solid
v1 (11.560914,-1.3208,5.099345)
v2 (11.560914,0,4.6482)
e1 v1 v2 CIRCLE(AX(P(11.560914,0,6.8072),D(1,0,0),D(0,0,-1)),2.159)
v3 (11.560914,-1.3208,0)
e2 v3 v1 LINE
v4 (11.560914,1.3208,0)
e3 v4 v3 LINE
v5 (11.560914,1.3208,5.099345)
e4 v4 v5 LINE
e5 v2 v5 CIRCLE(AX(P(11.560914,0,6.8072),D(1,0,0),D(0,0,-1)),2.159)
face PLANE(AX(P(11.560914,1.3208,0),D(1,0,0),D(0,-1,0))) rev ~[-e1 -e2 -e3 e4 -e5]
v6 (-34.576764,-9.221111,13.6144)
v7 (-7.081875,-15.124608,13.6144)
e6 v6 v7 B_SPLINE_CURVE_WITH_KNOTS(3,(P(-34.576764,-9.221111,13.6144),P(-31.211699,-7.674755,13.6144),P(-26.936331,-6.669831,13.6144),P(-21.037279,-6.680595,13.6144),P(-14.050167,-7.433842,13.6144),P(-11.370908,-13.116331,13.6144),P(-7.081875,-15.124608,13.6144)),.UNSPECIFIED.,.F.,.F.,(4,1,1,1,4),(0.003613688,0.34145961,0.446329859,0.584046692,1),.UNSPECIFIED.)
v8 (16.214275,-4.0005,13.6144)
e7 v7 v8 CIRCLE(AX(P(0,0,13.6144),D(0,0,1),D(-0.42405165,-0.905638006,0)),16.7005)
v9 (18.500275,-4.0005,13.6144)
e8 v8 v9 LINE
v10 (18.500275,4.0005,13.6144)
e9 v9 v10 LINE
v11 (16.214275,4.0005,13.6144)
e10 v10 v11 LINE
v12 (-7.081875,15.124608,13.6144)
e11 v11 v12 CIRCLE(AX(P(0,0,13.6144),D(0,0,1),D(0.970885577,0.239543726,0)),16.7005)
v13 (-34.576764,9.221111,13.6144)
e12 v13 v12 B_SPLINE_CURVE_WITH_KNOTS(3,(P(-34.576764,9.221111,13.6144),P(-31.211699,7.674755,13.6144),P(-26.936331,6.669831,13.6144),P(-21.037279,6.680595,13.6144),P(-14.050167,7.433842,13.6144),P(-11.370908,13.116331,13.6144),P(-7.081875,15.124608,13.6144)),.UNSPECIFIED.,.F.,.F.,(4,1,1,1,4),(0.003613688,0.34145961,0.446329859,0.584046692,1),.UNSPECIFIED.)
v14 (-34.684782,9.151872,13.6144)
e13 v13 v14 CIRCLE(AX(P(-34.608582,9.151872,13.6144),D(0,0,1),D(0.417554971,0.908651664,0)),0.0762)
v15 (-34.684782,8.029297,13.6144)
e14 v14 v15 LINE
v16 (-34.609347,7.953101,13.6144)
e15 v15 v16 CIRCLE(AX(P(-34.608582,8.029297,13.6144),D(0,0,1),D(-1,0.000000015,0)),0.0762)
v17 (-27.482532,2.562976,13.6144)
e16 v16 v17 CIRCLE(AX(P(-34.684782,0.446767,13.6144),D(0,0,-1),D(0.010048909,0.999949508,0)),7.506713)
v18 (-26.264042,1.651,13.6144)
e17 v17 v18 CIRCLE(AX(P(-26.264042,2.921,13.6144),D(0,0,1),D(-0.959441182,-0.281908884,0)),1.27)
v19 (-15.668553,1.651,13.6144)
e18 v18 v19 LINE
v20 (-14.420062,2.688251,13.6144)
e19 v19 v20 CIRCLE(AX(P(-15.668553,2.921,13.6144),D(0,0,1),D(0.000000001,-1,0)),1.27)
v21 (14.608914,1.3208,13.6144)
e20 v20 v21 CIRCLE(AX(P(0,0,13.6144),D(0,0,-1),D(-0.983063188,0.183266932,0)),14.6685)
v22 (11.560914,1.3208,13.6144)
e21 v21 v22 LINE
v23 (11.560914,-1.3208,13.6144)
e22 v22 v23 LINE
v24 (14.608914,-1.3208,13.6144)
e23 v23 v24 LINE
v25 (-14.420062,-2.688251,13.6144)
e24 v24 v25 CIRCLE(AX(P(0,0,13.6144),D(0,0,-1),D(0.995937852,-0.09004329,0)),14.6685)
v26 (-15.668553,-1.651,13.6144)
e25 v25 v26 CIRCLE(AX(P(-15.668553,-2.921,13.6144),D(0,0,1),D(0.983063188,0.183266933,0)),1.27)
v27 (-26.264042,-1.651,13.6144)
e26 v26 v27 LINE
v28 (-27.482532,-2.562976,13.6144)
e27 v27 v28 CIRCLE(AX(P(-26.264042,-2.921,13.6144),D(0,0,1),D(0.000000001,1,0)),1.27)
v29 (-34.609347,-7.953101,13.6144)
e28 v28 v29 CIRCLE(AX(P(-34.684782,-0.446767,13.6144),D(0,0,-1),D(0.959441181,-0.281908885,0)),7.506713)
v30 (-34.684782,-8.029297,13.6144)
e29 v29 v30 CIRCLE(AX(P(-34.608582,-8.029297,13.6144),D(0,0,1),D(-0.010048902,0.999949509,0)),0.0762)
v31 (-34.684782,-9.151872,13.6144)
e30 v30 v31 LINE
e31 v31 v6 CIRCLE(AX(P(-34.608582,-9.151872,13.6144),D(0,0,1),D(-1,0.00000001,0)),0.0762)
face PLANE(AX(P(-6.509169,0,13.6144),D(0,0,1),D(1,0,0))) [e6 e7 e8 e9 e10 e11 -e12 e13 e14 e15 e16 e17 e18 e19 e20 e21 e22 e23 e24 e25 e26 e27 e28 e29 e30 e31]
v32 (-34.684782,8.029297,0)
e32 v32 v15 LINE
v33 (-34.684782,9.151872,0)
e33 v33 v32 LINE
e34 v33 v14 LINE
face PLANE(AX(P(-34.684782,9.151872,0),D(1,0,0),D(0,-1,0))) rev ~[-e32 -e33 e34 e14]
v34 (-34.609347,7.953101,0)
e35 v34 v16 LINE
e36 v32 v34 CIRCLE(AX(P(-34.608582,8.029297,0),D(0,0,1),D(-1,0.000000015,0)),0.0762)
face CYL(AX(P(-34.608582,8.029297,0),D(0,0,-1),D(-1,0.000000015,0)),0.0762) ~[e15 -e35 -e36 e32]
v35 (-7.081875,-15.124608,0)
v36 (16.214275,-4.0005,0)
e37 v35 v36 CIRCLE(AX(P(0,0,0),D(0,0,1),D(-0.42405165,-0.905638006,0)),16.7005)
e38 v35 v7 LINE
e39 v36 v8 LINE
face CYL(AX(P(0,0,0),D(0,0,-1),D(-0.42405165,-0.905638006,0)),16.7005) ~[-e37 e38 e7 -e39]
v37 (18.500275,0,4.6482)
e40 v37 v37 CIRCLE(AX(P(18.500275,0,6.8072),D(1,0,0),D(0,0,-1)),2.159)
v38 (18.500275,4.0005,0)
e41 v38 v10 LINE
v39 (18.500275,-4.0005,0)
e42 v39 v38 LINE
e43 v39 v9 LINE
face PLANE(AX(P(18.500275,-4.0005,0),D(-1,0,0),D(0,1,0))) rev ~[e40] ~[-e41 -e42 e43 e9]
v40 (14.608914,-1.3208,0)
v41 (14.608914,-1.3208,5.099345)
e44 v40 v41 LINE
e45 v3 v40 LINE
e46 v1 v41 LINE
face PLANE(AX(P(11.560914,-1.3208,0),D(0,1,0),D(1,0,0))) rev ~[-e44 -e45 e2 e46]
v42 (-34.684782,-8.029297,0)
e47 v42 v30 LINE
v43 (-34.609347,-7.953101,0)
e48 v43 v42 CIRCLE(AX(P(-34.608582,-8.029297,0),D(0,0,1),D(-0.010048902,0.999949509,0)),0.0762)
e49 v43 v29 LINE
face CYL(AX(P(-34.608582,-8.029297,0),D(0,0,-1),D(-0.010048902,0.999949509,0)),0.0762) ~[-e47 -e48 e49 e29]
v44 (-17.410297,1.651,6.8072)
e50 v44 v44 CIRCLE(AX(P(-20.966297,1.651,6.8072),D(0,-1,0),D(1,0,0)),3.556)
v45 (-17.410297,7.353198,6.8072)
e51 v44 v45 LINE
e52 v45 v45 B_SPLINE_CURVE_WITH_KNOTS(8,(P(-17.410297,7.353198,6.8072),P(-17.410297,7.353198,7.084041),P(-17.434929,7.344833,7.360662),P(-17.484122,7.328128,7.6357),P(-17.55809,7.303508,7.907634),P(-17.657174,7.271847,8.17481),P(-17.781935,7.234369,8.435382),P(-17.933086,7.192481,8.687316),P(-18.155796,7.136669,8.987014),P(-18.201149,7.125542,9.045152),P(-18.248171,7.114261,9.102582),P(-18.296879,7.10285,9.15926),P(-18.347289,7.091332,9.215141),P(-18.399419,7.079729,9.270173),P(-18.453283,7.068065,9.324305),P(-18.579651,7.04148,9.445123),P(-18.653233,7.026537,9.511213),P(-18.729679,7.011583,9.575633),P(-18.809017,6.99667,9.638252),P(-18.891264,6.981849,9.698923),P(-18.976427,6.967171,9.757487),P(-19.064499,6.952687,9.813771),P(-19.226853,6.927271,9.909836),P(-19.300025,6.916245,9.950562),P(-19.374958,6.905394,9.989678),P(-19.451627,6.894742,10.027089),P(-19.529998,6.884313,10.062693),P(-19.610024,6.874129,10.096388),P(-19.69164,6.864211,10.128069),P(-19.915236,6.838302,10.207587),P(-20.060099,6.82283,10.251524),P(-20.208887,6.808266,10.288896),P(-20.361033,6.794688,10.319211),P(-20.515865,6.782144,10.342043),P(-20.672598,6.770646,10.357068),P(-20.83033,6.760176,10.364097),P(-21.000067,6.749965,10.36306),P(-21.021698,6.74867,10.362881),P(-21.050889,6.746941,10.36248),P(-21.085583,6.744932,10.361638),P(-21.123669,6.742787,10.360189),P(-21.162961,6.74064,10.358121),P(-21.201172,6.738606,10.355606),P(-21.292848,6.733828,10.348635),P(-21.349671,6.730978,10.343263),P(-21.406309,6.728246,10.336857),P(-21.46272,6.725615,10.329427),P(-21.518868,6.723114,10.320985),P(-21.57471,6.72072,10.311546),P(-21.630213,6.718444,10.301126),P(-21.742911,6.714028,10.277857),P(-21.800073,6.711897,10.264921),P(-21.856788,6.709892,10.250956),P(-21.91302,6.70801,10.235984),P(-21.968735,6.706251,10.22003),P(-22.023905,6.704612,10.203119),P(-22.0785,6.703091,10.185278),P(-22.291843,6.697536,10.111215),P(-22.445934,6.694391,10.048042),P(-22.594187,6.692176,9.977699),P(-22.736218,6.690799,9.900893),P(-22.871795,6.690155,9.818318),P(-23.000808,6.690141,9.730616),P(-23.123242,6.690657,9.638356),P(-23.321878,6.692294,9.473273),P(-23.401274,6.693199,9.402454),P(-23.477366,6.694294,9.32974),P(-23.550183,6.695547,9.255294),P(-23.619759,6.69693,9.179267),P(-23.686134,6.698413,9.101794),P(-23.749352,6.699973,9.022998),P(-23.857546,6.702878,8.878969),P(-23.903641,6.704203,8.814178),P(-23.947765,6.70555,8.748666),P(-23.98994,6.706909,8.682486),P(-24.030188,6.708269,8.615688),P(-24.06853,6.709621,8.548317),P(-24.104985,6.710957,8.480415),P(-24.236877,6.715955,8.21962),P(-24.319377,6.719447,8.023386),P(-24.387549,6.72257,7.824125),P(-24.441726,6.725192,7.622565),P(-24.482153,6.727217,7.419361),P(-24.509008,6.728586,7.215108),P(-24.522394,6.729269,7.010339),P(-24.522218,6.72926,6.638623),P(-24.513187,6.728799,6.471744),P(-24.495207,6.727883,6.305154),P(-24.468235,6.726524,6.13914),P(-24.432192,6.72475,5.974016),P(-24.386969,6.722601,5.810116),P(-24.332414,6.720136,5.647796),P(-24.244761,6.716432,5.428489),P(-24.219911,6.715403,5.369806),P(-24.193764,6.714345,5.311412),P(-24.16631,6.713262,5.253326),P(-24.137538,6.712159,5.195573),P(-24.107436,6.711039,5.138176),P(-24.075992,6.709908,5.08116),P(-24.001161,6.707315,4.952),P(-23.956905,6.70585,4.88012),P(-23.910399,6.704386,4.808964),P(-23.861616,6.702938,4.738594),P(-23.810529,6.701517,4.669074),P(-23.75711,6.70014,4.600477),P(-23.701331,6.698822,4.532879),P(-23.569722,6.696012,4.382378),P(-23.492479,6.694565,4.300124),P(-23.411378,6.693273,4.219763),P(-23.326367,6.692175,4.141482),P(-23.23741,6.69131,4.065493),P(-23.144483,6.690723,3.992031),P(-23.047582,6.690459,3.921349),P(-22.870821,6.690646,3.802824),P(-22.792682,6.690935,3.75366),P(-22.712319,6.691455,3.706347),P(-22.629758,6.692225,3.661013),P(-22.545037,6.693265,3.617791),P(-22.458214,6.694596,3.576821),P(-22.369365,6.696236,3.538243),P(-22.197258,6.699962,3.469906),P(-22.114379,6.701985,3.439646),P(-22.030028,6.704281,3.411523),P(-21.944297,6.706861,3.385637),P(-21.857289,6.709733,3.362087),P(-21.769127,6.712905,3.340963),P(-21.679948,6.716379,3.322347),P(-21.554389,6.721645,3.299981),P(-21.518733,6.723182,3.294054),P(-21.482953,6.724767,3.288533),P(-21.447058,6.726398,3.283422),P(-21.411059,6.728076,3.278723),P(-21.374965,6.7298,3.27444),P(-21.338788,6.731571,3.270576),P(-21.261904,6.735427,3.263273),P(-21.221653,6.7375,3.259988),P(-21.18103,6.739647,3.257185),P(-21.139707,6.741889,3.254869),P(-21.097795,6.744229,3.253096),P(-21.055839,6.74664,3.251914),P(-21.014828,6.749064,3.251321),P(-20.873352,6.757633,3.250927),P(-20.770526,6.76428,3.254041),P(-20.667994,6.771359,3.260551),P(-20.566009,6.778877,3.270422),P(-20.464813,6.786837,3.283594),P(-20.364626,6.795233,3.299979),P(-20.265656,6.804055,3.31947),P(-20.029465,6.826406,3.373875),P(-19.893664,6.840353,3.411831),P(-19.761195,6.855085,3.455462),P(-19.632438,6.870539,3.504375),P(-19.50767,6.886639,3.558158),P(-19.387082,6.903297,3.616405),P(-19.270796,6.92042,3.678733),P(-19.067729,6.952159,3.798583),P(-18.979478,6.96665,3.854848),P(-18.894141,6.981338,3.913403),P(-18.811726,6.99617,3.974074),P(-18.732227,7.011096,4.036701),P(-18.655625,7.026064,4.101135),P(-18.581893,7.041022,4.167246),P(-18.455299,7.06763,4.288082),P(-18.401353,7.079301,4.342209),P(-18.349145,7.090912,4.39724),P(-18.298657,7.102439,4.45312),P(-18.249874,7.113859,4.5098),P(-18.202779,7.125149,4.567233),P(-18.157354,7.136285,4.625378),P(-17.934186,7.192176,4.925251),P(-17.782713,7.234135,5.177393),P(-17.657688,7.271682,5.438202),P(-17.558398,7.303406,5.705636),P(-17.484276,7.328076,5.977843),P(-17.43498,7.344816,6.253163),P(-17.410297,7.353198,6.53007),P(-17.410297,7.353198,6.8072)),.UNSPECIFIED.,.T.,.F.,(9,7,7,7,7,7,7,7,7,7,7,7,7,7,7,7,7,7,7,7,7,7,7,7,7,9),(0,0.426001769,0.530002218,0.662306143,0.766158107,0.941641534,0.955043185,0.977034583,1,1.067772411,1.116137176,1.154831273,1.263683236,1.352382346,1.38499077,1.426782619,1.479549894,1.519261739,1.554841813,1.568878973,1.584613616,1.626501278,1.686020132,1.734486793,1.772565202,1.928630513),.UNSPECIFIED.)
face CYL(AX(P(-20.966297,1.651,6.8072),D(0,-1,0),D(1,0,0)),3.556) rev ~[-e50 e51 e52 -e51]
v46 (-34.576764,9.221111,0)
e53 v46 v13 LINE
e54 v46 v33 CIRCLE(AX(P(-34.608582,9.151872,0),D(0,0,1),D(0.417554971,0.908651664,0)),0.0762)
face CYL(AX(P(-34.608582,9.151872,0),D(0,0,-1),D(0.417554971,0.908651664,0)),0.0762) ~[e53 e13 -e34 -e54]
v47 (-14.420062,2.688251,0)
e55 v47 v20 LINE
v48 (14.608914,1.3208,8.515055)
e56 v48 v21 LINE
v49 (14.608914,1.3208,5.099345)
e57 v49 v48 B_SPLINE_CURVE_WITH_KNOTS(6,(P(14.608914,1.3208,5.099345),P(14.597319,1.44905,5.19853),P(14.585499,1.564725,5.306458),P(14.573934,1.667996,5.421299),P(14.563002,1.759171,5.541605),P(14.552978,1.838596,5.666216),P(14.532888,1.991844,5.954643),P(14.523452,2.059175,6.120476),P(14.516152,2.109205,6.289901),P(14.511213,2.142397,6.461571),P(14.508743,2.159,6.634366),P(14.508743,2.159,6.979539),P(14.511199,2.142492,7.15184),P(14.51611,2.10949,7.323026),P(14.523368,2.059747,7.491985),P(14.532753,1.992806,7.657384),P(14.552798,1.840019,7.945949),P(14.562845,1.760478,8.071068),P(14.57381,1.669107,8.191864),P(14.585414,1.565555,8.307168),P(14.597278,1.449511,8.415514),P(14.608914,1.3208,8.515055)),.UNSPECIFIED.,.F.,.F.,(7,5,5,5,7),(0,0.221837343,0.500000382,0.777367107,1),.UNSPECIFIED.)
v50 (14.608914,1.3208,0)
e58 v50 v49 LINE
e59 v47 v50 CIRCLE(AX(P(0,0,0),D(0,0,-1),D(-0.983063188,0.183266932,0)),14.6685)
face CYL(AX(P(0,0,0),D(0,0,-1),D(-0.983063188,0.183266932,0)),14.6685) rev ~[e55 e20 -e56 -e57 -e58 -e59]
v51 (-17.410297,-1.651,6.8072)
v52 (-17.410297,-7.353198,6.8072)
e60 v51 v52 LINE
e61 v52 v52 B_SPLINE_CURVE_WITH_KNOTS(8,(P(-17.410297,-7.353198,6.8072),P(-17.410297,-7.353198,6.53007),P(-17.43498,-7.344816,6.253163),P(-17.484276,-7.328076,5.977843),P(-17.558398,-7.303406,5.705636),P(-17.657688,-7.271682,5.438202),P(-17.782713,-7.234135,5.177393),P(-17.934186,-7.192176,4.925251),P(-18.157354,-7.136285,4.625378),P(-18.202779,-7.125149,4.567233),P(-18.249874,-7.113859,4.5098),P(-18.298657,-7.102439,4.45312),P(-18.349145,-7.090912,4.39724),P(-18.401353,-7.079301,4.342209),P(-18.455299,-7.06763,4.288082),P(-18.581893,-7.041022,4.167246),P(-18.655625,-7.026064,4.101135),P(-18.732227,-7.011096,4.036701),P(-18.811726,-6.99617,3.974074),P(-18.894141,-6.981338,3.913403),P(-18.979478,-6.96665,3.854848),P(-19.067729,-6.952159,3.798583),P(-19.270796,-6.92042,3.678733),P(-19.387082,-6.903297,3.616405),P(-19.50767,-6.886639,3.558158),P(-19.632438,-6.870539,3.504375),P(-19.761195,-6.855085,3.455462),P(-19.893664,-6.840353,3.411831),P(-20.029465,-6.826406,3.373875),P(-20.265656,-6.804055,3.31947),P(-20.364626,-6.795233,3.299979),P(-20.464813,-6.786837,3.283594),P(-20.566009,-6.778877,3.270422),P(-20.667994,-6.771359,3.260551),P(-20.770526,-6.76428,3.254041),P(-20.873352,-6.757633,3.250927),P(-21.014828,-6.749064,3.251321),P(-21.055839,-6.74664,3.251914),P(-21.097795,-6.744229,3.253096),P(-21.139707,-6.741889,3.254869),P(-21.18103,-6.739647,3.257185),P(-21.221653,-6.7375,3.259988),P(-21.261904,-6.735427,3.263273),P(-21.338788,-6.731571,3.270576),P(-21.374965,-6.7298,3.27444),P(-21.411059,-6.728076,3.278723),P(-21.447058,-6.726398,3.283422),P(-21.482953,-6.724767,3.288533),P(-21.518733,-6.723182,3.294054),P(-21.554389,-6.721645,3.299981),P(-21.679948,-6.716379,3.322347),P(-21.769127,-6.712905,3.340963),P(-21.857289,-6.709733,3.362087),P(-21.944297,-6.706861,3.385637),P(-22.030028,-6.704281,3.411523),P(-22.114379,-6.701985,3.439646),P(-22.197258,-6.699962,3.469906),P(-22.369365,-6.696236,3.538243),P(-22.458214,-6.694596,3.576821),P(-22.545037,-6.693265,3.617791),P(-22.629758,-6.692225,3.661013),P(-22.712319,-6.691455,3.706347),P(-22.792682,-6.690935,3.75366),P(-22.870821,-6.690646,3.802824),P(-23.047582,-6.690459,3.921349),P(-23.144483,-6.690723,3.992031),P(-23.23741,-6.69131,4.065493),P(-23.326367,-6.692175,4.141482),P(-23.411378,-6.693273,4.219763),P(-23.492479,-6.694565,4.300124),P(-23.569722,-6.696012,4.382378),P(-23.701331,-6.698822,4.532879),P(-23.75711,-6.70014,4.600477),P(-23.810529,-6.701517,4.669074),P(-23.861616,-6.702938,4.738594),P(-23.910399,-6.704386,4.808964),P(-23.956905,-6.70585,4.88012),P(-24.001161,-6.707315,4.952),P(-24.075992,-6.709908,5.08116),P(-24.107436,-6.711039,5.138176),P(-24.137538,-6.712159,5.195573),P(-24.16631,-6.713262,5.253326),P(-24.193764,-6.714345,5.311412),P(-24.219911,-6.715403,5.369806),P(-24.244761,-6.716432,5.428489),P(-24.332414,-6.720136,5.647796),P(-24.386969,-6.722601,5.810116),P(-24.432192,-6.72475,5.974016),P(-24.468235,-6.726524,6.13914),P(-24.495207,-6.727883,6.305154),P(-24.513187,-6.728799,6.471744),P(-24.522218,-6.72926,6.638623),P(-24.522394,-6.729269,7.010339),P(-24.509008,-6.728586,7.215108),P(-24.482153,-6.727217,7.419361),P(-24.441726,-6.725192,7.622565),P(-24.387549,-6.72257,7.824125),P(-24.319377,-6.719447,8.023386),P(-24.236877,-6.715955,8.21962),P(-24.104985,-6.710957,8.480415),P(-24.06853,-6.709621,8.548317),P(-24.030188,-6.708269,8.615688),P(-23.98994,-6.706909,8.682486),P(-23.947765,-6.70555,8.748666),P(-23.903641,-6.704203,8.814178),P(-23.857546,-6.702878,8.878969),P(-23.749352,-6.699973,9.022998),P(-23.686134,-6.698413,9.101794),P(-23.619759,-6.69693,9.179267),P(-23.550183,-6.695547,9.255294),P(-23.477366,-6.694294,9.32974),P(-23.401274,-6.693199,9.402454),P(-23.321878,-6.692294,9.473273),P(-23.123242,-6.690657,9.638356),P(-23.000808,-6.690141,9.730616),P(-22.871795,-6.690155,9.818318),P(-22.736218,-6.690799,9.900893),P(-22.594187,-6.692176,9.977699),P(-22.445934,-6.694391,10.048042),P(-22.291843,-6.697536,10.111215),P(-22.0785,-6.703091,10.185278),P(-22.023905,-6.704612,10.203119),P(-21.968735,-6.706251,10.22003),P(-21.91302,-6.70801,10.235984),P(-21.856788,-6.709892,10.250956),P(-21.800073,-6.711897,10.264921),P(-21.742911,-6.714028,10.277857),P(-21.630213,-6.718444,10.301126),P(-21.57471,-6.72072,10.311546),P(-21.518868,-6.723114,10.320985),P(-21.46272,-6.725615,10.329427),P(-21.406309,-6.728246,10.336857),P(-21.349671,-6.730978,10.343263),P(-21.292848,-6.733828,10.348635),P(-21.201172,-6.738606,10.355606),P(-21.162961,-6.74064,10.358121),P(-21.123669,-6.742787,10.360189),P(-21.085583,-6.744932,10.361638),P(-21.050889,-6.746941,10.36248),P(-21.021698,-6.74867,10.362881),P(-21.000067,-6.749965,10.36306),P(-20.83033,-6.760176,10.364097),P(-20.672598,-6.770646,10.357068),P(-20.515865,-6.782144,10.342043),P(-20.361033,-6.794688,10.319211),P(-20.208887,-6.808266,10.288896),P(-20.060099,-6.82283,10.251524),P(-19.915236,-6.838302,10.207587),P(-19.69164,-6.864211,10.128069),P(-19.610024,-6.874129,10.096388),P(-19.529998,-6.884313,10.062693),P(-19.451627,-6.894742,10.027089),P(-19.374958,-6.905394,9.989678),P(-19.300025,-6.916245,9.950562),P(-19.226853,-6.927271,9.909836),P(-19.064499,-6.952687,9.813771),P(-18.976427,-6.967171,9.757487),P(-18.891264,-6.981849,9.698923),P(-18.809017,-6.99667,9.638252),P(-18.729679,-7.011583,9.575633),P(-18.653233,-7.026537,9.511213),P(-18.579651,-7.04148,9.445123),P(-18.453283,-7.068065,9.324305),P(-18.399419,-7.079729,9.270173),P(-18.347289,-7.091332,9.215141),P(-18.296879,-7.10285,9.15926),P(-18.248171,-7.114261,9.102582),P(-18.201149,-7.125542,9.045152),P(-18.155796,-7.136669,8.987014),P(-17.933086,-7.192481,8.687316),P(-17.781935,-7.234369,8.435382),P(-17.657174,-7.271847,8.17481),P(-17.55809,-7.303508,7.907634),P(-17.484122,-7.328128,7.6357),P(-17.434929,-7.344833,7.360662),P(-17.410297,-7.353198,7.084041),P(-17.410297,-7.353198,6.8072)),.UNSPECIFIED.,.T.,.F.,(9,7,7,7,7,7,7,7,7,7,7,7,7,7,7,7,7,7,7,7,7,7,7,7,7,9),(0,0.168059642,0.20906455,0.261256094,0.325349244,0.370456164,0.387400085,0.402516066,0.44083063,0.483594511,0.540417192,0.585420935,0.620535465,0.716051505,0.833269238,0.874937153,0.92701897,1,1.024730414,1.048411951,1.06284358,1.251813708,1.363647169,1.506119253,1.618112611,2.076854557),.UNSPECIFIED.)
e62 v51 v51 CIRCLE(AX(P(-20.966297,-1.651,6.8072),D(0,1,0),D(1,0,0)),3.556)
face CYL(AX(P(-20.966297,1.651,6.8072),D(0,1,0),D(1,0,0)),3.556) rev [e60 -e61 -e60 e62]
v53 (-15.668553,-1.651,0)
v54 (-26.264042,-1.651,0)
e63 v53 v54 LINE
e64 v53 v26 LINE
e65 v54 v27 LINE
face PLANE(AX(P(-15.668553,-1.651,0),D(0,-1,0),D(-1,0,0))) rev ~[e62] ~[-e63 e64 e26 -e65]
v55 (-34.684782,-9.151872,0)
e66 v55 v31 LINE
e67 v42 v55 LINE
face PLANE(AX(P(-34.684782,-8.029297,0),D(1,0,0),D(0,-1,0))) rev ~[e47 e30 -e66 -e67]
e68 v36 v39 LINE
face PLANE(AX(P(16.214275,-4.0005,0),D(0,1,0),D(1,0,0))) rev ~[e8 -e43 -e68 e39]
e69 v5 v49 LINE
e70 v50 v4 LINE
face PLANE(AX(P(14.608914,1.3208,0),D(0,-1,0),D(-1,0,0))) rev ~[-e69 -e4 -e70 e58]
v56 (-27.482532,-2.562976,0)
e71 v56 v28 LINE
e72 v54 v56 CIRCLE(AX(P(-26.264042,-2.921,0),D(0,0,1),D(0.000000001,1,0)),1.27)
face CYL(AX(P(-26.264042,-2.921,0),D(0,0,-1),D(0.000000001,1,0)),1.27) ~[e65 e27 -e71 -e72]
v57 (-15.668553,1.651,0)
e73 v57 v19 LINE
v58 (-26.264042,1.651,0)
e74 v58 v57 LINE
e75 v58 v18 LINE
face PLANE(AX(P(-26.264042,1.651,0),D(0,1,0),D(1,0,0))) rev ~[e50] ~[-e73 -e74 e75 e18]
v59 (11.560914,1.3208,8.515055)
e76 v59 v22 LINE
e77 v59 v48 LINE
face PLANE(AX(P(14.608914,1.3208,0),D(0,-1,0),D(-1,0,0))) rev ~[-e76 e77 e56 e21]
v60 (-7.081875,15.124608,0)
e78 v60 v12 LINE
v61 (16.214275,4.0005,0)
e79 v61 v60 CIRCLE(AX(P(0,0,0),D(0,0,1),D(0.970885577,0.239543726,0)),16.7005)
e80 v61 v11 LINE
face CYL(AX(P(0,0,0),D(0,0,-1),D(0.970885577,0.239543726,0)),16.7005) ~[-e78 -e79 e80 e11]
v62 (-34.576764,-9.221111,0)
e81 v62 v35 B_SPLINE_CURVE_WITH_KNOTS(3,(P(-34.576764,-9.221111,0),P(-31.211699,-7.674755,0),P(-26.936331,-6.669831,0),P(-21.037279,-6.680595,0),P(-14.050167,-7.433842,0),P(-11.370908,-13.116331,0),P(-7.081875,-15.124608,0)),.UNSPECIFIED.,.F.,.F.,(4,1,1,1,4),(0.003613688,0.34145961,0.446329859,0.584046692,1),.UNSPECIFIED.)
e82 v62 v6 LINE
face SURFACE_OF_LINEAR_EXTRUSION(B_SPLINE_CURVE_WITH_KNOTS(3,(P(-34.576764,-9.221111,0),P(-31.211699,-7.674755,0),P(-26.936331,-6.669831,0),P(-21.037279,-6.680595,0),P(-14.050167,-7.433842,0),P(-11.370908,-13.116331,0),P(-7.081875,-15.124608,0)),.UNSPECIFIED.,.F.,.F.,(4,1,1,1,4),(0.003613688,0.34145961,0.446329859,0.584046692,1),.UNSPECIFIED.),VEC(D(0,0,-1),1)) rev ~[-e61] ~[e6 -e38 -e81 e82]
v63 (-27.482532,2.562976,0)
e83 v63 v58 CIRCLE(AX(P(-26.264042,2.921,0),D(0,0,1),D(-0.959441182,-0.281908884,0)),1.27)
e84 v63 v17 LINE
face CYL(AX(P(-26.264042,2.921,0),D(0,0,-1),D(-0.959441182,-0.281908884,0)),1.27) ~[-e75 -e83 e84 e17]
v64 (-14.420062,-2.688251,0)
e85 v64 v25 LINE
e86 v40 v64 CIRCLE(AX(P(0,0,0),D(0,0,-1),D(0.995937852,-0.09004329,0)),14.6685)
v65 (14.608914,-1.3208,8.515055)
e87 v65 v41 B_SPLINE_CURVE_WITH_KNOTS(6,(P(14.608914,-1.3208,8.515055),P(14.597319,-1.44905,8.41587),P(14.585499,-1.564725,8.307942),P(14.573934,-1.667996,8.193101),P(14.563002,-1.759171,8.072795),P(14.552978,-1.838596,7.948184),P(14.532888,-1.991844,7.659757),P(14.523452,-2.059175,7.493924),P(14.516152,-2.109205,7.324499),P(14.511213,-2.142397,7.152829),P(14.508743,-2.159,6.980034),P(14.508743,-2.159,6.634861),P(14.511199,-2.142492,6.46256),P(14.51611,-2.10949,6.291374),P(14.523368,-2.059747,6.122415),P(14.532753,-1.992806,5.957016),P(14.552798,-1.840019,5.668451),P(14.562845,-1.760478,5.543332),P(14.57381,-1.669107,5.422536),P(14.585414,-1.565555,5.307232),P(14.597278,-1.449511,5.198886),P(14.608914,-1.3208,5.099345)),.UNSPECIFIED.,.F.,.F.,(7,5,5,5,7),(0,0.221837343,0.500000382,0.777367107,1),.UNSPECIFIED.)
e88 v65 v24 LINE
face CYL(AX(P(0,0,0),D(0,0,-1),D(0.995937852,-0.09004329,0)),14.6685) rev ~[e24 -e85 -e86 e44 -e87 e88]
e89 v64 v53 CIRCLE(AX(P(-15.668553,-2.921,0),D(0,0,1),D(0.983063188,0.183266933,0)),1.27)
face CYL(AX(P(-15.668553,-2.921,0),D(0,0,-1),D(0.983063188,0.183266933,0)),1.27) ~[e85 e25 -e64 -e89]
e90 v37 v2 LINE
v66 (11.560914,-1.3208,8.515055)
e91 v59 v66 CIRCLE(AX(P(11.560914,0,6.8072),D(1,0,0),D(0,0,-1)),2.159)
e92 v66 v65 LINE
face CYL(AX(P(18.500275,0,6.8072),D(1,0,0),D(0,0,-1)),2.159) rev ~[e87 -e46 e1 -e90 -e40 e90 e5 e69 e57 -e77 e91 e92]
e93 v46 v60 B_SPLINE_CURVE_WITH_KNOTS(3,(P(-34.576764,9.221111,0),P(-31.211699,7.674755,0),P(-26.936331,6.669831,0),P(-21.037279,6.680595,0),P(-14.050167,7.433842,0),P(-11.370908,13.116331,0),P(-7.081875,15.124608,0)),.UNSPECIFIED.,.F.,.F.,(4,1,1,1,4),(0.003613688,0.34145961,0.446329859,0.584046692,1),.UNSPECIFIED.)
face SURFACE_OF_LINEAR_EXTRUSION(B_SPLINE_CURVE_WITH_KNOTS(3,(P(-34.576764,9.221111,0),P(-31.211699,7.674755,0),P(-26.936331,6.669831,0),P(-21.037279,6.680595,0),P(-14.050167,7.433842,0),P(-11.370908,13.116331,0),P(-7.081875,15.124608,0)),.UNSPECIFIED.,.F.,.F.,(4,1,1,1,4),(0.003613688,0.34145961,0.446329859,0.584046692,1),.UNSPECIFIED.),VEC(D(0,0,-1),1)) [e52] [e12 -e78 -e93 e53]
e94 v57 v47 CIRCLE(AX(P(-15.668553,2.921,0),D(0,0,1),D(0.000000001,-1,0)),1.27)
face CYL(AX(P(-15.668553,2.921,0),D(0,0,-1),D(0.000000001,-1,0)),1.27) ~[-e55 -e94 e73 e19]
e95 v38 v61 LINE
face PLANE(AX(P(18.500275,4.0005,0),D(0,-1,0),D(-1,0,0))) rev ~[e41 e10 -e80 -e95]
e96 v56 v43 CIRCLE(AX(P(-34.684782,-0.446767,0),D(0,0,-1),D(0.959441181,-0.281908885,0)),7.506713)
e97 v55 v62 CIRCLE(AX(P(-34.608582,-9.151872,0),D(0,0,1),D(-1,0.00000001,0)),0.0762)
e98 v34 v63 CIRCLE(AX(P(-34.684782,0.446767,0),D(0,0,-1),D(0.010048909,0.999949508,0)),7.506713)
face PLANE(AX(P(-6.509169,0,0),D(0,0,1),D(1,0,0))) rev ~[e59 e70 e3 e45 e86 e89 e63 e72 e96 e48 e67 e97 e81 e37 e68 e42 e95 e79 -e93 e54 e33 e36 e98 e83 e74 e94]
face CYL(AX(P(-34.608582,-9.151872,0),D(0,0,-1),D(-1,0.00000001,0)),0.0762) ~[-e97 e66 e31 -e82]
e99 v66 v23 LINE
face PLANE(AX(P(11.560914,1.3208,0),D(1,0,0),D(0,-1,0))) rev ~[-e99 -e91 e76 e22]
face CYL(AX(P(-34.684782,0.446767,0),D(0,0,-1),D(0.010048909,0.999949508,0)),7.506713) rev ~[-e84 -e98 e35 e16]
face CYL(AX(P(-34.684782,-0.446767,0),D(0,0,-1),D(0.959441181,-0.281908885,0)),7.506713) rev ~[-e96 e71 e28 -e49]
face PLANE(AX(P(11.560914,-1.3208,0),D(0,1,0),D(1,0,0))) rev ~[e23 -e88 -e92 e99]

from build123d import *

# Parameters (mm, degrees)
BOSS_EXTRUDE1_DEPTH     = 13.6144
SKETCH2_R               = 2.159
CUT_EXTRUDE1_DEPTH      = 13.6144
SKETCH3_R               = 3.556
CUT_EXTRUDE2_DEPTH      = 19.3515001
CUT_EXTRUDE2_DEPTH_BACK = 16.0495001


with BuildPart() as part:
    # Sketch1 → Boss-Extrude1 (new body)
    with BuildSketch(Plane.XY):
        with BuildLine():
            Line((16.214274575, -4.0005), (18.500274575, -4.0005))
            Line((18.500274575, -4.0005), (18.500274575, 4.0005))
            Line((18.500274575, 4.0005), (16.214274575, 4.0005))
            ThreePointArc((16.214274575, 4.0005), (7.196292411, 15.070503501), (-7.081874578, 15.124607523))
            add(Edge.make_bspline(
                [(-34.576763977, 9.221111344), (-31.211698963, 7.674754632), (-26.936331304, 6.669830907), (-21.0372787, 6.68059468), (-14.050166755, 7.433841717), (-11.370908077, 13.116330795), (-7.081874578, 15.124607523)],
                knots=[0.003613688, 0.003613688, 0.003613688, 0.003613688, 0.34145961, 0.446329859, 0.584046692, 1, 1, 1, 1], degree=3))
            ThreePointArc((-34.576763977, 9.221111344), (-34.649703023, 9.216024047), (-34.684781665, 9.151872087))
            Line((-34.684781665, 9.151872087), (-34.684781665, 8.029296663))
            ThreePointArc((-34.684781665, 8.029296663), (-34.662733251, 7.975686535), (-34.609347392, 7.95310051))
            ThreePointArc((-34.609347392, 7.95310051), (-30.156588703, 6.433936835), (-27.482532193, 2.562975716))
            ThreePointArc((-27.482532193, 2.562975716), (-27.025031104, 1.904242693), (-26.264041893, 1.651))
            Line((-26.264041893, 1.651), (-15.668552621, 1.651))
            ThreePointArc((-15.668552621, 1.651), (-14.856977374, 1.944145038), (-14.420062373, 2.688250996))
            ThreePointArc((-14.420062373, 2.688250996), (0.690215059, 14.65225223), (14.608914388, 1.3208))
            Line((14.608914388, 1.3208), (11.560914388, 1.3208))
            Line((11.560914388, 1.3208), (11.560914388, -1.3208))
            Line((11.560914388, -1.3208), (14.608914388, -1.3208))
            ThreePointArc((14.608914388, -1.3208), (0.690215059, -14.65225223), (-14.420062373, -2.688250996))
            ThreePointArc((-14.420062373, -2.688250996), (-14.856977374, -1.944145038), (-15.668552621, -1.651))
            Line((-15.668552621, -1.651), (-26.264041893, -1.651))
            ThreePointArc((-26.264041893, -1.651), (-27.025031104, -1.904242693), (-27.482532193, -2.562975716))
            ThreePointArc((-27.482532193, -2.562975716), (-30.156588703, -6.433936835), (-34.609347392, -7.95310051))
            ThreePointArc((-34.609347392, -7.95310051), (-34.662733251, -7.975686535), (-34.684781665, -8.029296663))
            Line((-34.684781665, -8.029296663), (-34.684781665, -9.151872087))
            ThreePointArc((-34.684781665, -9.151872087), (-34.649703023, -9.216024047), (-34.576763977, -9.221111344))
            add(Edge.make_bspline(
                [(-34.576763977, -9.221111344), (-31.211698963, -7.674754632), (-26.936331304, -6.669830907), (-21.0372787, -6.68059468), (-14.050166755, -7.433841717), (-11.370908077, -13.116330795), (-7.081874578, -15.124607523)],
                knots=[0.003613688, 0.003613688, 0.003613688, 0.003613688, 0.34145961, 0.446329859, 0.584046692, 1, 1, 1, 1], degree=3))
            ThreePointArc((-7.081874578, -15.124607523), (7.196292411, -15.070503501), (16.214274575, -4.0005))
        make_face()
    extrude(amount=BOSS_EXTRUDE1_DEPTH)

    # Sketch2 → Cut-Extrude1 (cut)
    with BuildSketch(Plane(origin=(18.500274575, 0, 0), x_dir=(0, 0, -1), z_dir=(1, 0, 0))):
        with Locations((-6.8072, 0)):
            Circle(SKETCH2_R)
    extrude(amount=-CUT_EXTRUDE1_DEPTH, mode=Mode.SUBTRACT)

    # Sketch3 → Cut-Extrude2 (cut, two sides)
    with BuildSketch(Plane.XZ.offset(-1.651)) as cut_extrude2_sk:
        with Locations((-20.966297257, 6.8072)):
            Circle(SKETCH3_R)
    extrude(amount=CUT_EXTRUDE2_DEPTH, mode=Mode.SUBTRACT)
    extrude(cut_extrude2_sk.sketch, amount=-CUT_EXTRUDE2_DEPTH_BACK, mode=Mode.SUBTRACT)


solid = part.part
